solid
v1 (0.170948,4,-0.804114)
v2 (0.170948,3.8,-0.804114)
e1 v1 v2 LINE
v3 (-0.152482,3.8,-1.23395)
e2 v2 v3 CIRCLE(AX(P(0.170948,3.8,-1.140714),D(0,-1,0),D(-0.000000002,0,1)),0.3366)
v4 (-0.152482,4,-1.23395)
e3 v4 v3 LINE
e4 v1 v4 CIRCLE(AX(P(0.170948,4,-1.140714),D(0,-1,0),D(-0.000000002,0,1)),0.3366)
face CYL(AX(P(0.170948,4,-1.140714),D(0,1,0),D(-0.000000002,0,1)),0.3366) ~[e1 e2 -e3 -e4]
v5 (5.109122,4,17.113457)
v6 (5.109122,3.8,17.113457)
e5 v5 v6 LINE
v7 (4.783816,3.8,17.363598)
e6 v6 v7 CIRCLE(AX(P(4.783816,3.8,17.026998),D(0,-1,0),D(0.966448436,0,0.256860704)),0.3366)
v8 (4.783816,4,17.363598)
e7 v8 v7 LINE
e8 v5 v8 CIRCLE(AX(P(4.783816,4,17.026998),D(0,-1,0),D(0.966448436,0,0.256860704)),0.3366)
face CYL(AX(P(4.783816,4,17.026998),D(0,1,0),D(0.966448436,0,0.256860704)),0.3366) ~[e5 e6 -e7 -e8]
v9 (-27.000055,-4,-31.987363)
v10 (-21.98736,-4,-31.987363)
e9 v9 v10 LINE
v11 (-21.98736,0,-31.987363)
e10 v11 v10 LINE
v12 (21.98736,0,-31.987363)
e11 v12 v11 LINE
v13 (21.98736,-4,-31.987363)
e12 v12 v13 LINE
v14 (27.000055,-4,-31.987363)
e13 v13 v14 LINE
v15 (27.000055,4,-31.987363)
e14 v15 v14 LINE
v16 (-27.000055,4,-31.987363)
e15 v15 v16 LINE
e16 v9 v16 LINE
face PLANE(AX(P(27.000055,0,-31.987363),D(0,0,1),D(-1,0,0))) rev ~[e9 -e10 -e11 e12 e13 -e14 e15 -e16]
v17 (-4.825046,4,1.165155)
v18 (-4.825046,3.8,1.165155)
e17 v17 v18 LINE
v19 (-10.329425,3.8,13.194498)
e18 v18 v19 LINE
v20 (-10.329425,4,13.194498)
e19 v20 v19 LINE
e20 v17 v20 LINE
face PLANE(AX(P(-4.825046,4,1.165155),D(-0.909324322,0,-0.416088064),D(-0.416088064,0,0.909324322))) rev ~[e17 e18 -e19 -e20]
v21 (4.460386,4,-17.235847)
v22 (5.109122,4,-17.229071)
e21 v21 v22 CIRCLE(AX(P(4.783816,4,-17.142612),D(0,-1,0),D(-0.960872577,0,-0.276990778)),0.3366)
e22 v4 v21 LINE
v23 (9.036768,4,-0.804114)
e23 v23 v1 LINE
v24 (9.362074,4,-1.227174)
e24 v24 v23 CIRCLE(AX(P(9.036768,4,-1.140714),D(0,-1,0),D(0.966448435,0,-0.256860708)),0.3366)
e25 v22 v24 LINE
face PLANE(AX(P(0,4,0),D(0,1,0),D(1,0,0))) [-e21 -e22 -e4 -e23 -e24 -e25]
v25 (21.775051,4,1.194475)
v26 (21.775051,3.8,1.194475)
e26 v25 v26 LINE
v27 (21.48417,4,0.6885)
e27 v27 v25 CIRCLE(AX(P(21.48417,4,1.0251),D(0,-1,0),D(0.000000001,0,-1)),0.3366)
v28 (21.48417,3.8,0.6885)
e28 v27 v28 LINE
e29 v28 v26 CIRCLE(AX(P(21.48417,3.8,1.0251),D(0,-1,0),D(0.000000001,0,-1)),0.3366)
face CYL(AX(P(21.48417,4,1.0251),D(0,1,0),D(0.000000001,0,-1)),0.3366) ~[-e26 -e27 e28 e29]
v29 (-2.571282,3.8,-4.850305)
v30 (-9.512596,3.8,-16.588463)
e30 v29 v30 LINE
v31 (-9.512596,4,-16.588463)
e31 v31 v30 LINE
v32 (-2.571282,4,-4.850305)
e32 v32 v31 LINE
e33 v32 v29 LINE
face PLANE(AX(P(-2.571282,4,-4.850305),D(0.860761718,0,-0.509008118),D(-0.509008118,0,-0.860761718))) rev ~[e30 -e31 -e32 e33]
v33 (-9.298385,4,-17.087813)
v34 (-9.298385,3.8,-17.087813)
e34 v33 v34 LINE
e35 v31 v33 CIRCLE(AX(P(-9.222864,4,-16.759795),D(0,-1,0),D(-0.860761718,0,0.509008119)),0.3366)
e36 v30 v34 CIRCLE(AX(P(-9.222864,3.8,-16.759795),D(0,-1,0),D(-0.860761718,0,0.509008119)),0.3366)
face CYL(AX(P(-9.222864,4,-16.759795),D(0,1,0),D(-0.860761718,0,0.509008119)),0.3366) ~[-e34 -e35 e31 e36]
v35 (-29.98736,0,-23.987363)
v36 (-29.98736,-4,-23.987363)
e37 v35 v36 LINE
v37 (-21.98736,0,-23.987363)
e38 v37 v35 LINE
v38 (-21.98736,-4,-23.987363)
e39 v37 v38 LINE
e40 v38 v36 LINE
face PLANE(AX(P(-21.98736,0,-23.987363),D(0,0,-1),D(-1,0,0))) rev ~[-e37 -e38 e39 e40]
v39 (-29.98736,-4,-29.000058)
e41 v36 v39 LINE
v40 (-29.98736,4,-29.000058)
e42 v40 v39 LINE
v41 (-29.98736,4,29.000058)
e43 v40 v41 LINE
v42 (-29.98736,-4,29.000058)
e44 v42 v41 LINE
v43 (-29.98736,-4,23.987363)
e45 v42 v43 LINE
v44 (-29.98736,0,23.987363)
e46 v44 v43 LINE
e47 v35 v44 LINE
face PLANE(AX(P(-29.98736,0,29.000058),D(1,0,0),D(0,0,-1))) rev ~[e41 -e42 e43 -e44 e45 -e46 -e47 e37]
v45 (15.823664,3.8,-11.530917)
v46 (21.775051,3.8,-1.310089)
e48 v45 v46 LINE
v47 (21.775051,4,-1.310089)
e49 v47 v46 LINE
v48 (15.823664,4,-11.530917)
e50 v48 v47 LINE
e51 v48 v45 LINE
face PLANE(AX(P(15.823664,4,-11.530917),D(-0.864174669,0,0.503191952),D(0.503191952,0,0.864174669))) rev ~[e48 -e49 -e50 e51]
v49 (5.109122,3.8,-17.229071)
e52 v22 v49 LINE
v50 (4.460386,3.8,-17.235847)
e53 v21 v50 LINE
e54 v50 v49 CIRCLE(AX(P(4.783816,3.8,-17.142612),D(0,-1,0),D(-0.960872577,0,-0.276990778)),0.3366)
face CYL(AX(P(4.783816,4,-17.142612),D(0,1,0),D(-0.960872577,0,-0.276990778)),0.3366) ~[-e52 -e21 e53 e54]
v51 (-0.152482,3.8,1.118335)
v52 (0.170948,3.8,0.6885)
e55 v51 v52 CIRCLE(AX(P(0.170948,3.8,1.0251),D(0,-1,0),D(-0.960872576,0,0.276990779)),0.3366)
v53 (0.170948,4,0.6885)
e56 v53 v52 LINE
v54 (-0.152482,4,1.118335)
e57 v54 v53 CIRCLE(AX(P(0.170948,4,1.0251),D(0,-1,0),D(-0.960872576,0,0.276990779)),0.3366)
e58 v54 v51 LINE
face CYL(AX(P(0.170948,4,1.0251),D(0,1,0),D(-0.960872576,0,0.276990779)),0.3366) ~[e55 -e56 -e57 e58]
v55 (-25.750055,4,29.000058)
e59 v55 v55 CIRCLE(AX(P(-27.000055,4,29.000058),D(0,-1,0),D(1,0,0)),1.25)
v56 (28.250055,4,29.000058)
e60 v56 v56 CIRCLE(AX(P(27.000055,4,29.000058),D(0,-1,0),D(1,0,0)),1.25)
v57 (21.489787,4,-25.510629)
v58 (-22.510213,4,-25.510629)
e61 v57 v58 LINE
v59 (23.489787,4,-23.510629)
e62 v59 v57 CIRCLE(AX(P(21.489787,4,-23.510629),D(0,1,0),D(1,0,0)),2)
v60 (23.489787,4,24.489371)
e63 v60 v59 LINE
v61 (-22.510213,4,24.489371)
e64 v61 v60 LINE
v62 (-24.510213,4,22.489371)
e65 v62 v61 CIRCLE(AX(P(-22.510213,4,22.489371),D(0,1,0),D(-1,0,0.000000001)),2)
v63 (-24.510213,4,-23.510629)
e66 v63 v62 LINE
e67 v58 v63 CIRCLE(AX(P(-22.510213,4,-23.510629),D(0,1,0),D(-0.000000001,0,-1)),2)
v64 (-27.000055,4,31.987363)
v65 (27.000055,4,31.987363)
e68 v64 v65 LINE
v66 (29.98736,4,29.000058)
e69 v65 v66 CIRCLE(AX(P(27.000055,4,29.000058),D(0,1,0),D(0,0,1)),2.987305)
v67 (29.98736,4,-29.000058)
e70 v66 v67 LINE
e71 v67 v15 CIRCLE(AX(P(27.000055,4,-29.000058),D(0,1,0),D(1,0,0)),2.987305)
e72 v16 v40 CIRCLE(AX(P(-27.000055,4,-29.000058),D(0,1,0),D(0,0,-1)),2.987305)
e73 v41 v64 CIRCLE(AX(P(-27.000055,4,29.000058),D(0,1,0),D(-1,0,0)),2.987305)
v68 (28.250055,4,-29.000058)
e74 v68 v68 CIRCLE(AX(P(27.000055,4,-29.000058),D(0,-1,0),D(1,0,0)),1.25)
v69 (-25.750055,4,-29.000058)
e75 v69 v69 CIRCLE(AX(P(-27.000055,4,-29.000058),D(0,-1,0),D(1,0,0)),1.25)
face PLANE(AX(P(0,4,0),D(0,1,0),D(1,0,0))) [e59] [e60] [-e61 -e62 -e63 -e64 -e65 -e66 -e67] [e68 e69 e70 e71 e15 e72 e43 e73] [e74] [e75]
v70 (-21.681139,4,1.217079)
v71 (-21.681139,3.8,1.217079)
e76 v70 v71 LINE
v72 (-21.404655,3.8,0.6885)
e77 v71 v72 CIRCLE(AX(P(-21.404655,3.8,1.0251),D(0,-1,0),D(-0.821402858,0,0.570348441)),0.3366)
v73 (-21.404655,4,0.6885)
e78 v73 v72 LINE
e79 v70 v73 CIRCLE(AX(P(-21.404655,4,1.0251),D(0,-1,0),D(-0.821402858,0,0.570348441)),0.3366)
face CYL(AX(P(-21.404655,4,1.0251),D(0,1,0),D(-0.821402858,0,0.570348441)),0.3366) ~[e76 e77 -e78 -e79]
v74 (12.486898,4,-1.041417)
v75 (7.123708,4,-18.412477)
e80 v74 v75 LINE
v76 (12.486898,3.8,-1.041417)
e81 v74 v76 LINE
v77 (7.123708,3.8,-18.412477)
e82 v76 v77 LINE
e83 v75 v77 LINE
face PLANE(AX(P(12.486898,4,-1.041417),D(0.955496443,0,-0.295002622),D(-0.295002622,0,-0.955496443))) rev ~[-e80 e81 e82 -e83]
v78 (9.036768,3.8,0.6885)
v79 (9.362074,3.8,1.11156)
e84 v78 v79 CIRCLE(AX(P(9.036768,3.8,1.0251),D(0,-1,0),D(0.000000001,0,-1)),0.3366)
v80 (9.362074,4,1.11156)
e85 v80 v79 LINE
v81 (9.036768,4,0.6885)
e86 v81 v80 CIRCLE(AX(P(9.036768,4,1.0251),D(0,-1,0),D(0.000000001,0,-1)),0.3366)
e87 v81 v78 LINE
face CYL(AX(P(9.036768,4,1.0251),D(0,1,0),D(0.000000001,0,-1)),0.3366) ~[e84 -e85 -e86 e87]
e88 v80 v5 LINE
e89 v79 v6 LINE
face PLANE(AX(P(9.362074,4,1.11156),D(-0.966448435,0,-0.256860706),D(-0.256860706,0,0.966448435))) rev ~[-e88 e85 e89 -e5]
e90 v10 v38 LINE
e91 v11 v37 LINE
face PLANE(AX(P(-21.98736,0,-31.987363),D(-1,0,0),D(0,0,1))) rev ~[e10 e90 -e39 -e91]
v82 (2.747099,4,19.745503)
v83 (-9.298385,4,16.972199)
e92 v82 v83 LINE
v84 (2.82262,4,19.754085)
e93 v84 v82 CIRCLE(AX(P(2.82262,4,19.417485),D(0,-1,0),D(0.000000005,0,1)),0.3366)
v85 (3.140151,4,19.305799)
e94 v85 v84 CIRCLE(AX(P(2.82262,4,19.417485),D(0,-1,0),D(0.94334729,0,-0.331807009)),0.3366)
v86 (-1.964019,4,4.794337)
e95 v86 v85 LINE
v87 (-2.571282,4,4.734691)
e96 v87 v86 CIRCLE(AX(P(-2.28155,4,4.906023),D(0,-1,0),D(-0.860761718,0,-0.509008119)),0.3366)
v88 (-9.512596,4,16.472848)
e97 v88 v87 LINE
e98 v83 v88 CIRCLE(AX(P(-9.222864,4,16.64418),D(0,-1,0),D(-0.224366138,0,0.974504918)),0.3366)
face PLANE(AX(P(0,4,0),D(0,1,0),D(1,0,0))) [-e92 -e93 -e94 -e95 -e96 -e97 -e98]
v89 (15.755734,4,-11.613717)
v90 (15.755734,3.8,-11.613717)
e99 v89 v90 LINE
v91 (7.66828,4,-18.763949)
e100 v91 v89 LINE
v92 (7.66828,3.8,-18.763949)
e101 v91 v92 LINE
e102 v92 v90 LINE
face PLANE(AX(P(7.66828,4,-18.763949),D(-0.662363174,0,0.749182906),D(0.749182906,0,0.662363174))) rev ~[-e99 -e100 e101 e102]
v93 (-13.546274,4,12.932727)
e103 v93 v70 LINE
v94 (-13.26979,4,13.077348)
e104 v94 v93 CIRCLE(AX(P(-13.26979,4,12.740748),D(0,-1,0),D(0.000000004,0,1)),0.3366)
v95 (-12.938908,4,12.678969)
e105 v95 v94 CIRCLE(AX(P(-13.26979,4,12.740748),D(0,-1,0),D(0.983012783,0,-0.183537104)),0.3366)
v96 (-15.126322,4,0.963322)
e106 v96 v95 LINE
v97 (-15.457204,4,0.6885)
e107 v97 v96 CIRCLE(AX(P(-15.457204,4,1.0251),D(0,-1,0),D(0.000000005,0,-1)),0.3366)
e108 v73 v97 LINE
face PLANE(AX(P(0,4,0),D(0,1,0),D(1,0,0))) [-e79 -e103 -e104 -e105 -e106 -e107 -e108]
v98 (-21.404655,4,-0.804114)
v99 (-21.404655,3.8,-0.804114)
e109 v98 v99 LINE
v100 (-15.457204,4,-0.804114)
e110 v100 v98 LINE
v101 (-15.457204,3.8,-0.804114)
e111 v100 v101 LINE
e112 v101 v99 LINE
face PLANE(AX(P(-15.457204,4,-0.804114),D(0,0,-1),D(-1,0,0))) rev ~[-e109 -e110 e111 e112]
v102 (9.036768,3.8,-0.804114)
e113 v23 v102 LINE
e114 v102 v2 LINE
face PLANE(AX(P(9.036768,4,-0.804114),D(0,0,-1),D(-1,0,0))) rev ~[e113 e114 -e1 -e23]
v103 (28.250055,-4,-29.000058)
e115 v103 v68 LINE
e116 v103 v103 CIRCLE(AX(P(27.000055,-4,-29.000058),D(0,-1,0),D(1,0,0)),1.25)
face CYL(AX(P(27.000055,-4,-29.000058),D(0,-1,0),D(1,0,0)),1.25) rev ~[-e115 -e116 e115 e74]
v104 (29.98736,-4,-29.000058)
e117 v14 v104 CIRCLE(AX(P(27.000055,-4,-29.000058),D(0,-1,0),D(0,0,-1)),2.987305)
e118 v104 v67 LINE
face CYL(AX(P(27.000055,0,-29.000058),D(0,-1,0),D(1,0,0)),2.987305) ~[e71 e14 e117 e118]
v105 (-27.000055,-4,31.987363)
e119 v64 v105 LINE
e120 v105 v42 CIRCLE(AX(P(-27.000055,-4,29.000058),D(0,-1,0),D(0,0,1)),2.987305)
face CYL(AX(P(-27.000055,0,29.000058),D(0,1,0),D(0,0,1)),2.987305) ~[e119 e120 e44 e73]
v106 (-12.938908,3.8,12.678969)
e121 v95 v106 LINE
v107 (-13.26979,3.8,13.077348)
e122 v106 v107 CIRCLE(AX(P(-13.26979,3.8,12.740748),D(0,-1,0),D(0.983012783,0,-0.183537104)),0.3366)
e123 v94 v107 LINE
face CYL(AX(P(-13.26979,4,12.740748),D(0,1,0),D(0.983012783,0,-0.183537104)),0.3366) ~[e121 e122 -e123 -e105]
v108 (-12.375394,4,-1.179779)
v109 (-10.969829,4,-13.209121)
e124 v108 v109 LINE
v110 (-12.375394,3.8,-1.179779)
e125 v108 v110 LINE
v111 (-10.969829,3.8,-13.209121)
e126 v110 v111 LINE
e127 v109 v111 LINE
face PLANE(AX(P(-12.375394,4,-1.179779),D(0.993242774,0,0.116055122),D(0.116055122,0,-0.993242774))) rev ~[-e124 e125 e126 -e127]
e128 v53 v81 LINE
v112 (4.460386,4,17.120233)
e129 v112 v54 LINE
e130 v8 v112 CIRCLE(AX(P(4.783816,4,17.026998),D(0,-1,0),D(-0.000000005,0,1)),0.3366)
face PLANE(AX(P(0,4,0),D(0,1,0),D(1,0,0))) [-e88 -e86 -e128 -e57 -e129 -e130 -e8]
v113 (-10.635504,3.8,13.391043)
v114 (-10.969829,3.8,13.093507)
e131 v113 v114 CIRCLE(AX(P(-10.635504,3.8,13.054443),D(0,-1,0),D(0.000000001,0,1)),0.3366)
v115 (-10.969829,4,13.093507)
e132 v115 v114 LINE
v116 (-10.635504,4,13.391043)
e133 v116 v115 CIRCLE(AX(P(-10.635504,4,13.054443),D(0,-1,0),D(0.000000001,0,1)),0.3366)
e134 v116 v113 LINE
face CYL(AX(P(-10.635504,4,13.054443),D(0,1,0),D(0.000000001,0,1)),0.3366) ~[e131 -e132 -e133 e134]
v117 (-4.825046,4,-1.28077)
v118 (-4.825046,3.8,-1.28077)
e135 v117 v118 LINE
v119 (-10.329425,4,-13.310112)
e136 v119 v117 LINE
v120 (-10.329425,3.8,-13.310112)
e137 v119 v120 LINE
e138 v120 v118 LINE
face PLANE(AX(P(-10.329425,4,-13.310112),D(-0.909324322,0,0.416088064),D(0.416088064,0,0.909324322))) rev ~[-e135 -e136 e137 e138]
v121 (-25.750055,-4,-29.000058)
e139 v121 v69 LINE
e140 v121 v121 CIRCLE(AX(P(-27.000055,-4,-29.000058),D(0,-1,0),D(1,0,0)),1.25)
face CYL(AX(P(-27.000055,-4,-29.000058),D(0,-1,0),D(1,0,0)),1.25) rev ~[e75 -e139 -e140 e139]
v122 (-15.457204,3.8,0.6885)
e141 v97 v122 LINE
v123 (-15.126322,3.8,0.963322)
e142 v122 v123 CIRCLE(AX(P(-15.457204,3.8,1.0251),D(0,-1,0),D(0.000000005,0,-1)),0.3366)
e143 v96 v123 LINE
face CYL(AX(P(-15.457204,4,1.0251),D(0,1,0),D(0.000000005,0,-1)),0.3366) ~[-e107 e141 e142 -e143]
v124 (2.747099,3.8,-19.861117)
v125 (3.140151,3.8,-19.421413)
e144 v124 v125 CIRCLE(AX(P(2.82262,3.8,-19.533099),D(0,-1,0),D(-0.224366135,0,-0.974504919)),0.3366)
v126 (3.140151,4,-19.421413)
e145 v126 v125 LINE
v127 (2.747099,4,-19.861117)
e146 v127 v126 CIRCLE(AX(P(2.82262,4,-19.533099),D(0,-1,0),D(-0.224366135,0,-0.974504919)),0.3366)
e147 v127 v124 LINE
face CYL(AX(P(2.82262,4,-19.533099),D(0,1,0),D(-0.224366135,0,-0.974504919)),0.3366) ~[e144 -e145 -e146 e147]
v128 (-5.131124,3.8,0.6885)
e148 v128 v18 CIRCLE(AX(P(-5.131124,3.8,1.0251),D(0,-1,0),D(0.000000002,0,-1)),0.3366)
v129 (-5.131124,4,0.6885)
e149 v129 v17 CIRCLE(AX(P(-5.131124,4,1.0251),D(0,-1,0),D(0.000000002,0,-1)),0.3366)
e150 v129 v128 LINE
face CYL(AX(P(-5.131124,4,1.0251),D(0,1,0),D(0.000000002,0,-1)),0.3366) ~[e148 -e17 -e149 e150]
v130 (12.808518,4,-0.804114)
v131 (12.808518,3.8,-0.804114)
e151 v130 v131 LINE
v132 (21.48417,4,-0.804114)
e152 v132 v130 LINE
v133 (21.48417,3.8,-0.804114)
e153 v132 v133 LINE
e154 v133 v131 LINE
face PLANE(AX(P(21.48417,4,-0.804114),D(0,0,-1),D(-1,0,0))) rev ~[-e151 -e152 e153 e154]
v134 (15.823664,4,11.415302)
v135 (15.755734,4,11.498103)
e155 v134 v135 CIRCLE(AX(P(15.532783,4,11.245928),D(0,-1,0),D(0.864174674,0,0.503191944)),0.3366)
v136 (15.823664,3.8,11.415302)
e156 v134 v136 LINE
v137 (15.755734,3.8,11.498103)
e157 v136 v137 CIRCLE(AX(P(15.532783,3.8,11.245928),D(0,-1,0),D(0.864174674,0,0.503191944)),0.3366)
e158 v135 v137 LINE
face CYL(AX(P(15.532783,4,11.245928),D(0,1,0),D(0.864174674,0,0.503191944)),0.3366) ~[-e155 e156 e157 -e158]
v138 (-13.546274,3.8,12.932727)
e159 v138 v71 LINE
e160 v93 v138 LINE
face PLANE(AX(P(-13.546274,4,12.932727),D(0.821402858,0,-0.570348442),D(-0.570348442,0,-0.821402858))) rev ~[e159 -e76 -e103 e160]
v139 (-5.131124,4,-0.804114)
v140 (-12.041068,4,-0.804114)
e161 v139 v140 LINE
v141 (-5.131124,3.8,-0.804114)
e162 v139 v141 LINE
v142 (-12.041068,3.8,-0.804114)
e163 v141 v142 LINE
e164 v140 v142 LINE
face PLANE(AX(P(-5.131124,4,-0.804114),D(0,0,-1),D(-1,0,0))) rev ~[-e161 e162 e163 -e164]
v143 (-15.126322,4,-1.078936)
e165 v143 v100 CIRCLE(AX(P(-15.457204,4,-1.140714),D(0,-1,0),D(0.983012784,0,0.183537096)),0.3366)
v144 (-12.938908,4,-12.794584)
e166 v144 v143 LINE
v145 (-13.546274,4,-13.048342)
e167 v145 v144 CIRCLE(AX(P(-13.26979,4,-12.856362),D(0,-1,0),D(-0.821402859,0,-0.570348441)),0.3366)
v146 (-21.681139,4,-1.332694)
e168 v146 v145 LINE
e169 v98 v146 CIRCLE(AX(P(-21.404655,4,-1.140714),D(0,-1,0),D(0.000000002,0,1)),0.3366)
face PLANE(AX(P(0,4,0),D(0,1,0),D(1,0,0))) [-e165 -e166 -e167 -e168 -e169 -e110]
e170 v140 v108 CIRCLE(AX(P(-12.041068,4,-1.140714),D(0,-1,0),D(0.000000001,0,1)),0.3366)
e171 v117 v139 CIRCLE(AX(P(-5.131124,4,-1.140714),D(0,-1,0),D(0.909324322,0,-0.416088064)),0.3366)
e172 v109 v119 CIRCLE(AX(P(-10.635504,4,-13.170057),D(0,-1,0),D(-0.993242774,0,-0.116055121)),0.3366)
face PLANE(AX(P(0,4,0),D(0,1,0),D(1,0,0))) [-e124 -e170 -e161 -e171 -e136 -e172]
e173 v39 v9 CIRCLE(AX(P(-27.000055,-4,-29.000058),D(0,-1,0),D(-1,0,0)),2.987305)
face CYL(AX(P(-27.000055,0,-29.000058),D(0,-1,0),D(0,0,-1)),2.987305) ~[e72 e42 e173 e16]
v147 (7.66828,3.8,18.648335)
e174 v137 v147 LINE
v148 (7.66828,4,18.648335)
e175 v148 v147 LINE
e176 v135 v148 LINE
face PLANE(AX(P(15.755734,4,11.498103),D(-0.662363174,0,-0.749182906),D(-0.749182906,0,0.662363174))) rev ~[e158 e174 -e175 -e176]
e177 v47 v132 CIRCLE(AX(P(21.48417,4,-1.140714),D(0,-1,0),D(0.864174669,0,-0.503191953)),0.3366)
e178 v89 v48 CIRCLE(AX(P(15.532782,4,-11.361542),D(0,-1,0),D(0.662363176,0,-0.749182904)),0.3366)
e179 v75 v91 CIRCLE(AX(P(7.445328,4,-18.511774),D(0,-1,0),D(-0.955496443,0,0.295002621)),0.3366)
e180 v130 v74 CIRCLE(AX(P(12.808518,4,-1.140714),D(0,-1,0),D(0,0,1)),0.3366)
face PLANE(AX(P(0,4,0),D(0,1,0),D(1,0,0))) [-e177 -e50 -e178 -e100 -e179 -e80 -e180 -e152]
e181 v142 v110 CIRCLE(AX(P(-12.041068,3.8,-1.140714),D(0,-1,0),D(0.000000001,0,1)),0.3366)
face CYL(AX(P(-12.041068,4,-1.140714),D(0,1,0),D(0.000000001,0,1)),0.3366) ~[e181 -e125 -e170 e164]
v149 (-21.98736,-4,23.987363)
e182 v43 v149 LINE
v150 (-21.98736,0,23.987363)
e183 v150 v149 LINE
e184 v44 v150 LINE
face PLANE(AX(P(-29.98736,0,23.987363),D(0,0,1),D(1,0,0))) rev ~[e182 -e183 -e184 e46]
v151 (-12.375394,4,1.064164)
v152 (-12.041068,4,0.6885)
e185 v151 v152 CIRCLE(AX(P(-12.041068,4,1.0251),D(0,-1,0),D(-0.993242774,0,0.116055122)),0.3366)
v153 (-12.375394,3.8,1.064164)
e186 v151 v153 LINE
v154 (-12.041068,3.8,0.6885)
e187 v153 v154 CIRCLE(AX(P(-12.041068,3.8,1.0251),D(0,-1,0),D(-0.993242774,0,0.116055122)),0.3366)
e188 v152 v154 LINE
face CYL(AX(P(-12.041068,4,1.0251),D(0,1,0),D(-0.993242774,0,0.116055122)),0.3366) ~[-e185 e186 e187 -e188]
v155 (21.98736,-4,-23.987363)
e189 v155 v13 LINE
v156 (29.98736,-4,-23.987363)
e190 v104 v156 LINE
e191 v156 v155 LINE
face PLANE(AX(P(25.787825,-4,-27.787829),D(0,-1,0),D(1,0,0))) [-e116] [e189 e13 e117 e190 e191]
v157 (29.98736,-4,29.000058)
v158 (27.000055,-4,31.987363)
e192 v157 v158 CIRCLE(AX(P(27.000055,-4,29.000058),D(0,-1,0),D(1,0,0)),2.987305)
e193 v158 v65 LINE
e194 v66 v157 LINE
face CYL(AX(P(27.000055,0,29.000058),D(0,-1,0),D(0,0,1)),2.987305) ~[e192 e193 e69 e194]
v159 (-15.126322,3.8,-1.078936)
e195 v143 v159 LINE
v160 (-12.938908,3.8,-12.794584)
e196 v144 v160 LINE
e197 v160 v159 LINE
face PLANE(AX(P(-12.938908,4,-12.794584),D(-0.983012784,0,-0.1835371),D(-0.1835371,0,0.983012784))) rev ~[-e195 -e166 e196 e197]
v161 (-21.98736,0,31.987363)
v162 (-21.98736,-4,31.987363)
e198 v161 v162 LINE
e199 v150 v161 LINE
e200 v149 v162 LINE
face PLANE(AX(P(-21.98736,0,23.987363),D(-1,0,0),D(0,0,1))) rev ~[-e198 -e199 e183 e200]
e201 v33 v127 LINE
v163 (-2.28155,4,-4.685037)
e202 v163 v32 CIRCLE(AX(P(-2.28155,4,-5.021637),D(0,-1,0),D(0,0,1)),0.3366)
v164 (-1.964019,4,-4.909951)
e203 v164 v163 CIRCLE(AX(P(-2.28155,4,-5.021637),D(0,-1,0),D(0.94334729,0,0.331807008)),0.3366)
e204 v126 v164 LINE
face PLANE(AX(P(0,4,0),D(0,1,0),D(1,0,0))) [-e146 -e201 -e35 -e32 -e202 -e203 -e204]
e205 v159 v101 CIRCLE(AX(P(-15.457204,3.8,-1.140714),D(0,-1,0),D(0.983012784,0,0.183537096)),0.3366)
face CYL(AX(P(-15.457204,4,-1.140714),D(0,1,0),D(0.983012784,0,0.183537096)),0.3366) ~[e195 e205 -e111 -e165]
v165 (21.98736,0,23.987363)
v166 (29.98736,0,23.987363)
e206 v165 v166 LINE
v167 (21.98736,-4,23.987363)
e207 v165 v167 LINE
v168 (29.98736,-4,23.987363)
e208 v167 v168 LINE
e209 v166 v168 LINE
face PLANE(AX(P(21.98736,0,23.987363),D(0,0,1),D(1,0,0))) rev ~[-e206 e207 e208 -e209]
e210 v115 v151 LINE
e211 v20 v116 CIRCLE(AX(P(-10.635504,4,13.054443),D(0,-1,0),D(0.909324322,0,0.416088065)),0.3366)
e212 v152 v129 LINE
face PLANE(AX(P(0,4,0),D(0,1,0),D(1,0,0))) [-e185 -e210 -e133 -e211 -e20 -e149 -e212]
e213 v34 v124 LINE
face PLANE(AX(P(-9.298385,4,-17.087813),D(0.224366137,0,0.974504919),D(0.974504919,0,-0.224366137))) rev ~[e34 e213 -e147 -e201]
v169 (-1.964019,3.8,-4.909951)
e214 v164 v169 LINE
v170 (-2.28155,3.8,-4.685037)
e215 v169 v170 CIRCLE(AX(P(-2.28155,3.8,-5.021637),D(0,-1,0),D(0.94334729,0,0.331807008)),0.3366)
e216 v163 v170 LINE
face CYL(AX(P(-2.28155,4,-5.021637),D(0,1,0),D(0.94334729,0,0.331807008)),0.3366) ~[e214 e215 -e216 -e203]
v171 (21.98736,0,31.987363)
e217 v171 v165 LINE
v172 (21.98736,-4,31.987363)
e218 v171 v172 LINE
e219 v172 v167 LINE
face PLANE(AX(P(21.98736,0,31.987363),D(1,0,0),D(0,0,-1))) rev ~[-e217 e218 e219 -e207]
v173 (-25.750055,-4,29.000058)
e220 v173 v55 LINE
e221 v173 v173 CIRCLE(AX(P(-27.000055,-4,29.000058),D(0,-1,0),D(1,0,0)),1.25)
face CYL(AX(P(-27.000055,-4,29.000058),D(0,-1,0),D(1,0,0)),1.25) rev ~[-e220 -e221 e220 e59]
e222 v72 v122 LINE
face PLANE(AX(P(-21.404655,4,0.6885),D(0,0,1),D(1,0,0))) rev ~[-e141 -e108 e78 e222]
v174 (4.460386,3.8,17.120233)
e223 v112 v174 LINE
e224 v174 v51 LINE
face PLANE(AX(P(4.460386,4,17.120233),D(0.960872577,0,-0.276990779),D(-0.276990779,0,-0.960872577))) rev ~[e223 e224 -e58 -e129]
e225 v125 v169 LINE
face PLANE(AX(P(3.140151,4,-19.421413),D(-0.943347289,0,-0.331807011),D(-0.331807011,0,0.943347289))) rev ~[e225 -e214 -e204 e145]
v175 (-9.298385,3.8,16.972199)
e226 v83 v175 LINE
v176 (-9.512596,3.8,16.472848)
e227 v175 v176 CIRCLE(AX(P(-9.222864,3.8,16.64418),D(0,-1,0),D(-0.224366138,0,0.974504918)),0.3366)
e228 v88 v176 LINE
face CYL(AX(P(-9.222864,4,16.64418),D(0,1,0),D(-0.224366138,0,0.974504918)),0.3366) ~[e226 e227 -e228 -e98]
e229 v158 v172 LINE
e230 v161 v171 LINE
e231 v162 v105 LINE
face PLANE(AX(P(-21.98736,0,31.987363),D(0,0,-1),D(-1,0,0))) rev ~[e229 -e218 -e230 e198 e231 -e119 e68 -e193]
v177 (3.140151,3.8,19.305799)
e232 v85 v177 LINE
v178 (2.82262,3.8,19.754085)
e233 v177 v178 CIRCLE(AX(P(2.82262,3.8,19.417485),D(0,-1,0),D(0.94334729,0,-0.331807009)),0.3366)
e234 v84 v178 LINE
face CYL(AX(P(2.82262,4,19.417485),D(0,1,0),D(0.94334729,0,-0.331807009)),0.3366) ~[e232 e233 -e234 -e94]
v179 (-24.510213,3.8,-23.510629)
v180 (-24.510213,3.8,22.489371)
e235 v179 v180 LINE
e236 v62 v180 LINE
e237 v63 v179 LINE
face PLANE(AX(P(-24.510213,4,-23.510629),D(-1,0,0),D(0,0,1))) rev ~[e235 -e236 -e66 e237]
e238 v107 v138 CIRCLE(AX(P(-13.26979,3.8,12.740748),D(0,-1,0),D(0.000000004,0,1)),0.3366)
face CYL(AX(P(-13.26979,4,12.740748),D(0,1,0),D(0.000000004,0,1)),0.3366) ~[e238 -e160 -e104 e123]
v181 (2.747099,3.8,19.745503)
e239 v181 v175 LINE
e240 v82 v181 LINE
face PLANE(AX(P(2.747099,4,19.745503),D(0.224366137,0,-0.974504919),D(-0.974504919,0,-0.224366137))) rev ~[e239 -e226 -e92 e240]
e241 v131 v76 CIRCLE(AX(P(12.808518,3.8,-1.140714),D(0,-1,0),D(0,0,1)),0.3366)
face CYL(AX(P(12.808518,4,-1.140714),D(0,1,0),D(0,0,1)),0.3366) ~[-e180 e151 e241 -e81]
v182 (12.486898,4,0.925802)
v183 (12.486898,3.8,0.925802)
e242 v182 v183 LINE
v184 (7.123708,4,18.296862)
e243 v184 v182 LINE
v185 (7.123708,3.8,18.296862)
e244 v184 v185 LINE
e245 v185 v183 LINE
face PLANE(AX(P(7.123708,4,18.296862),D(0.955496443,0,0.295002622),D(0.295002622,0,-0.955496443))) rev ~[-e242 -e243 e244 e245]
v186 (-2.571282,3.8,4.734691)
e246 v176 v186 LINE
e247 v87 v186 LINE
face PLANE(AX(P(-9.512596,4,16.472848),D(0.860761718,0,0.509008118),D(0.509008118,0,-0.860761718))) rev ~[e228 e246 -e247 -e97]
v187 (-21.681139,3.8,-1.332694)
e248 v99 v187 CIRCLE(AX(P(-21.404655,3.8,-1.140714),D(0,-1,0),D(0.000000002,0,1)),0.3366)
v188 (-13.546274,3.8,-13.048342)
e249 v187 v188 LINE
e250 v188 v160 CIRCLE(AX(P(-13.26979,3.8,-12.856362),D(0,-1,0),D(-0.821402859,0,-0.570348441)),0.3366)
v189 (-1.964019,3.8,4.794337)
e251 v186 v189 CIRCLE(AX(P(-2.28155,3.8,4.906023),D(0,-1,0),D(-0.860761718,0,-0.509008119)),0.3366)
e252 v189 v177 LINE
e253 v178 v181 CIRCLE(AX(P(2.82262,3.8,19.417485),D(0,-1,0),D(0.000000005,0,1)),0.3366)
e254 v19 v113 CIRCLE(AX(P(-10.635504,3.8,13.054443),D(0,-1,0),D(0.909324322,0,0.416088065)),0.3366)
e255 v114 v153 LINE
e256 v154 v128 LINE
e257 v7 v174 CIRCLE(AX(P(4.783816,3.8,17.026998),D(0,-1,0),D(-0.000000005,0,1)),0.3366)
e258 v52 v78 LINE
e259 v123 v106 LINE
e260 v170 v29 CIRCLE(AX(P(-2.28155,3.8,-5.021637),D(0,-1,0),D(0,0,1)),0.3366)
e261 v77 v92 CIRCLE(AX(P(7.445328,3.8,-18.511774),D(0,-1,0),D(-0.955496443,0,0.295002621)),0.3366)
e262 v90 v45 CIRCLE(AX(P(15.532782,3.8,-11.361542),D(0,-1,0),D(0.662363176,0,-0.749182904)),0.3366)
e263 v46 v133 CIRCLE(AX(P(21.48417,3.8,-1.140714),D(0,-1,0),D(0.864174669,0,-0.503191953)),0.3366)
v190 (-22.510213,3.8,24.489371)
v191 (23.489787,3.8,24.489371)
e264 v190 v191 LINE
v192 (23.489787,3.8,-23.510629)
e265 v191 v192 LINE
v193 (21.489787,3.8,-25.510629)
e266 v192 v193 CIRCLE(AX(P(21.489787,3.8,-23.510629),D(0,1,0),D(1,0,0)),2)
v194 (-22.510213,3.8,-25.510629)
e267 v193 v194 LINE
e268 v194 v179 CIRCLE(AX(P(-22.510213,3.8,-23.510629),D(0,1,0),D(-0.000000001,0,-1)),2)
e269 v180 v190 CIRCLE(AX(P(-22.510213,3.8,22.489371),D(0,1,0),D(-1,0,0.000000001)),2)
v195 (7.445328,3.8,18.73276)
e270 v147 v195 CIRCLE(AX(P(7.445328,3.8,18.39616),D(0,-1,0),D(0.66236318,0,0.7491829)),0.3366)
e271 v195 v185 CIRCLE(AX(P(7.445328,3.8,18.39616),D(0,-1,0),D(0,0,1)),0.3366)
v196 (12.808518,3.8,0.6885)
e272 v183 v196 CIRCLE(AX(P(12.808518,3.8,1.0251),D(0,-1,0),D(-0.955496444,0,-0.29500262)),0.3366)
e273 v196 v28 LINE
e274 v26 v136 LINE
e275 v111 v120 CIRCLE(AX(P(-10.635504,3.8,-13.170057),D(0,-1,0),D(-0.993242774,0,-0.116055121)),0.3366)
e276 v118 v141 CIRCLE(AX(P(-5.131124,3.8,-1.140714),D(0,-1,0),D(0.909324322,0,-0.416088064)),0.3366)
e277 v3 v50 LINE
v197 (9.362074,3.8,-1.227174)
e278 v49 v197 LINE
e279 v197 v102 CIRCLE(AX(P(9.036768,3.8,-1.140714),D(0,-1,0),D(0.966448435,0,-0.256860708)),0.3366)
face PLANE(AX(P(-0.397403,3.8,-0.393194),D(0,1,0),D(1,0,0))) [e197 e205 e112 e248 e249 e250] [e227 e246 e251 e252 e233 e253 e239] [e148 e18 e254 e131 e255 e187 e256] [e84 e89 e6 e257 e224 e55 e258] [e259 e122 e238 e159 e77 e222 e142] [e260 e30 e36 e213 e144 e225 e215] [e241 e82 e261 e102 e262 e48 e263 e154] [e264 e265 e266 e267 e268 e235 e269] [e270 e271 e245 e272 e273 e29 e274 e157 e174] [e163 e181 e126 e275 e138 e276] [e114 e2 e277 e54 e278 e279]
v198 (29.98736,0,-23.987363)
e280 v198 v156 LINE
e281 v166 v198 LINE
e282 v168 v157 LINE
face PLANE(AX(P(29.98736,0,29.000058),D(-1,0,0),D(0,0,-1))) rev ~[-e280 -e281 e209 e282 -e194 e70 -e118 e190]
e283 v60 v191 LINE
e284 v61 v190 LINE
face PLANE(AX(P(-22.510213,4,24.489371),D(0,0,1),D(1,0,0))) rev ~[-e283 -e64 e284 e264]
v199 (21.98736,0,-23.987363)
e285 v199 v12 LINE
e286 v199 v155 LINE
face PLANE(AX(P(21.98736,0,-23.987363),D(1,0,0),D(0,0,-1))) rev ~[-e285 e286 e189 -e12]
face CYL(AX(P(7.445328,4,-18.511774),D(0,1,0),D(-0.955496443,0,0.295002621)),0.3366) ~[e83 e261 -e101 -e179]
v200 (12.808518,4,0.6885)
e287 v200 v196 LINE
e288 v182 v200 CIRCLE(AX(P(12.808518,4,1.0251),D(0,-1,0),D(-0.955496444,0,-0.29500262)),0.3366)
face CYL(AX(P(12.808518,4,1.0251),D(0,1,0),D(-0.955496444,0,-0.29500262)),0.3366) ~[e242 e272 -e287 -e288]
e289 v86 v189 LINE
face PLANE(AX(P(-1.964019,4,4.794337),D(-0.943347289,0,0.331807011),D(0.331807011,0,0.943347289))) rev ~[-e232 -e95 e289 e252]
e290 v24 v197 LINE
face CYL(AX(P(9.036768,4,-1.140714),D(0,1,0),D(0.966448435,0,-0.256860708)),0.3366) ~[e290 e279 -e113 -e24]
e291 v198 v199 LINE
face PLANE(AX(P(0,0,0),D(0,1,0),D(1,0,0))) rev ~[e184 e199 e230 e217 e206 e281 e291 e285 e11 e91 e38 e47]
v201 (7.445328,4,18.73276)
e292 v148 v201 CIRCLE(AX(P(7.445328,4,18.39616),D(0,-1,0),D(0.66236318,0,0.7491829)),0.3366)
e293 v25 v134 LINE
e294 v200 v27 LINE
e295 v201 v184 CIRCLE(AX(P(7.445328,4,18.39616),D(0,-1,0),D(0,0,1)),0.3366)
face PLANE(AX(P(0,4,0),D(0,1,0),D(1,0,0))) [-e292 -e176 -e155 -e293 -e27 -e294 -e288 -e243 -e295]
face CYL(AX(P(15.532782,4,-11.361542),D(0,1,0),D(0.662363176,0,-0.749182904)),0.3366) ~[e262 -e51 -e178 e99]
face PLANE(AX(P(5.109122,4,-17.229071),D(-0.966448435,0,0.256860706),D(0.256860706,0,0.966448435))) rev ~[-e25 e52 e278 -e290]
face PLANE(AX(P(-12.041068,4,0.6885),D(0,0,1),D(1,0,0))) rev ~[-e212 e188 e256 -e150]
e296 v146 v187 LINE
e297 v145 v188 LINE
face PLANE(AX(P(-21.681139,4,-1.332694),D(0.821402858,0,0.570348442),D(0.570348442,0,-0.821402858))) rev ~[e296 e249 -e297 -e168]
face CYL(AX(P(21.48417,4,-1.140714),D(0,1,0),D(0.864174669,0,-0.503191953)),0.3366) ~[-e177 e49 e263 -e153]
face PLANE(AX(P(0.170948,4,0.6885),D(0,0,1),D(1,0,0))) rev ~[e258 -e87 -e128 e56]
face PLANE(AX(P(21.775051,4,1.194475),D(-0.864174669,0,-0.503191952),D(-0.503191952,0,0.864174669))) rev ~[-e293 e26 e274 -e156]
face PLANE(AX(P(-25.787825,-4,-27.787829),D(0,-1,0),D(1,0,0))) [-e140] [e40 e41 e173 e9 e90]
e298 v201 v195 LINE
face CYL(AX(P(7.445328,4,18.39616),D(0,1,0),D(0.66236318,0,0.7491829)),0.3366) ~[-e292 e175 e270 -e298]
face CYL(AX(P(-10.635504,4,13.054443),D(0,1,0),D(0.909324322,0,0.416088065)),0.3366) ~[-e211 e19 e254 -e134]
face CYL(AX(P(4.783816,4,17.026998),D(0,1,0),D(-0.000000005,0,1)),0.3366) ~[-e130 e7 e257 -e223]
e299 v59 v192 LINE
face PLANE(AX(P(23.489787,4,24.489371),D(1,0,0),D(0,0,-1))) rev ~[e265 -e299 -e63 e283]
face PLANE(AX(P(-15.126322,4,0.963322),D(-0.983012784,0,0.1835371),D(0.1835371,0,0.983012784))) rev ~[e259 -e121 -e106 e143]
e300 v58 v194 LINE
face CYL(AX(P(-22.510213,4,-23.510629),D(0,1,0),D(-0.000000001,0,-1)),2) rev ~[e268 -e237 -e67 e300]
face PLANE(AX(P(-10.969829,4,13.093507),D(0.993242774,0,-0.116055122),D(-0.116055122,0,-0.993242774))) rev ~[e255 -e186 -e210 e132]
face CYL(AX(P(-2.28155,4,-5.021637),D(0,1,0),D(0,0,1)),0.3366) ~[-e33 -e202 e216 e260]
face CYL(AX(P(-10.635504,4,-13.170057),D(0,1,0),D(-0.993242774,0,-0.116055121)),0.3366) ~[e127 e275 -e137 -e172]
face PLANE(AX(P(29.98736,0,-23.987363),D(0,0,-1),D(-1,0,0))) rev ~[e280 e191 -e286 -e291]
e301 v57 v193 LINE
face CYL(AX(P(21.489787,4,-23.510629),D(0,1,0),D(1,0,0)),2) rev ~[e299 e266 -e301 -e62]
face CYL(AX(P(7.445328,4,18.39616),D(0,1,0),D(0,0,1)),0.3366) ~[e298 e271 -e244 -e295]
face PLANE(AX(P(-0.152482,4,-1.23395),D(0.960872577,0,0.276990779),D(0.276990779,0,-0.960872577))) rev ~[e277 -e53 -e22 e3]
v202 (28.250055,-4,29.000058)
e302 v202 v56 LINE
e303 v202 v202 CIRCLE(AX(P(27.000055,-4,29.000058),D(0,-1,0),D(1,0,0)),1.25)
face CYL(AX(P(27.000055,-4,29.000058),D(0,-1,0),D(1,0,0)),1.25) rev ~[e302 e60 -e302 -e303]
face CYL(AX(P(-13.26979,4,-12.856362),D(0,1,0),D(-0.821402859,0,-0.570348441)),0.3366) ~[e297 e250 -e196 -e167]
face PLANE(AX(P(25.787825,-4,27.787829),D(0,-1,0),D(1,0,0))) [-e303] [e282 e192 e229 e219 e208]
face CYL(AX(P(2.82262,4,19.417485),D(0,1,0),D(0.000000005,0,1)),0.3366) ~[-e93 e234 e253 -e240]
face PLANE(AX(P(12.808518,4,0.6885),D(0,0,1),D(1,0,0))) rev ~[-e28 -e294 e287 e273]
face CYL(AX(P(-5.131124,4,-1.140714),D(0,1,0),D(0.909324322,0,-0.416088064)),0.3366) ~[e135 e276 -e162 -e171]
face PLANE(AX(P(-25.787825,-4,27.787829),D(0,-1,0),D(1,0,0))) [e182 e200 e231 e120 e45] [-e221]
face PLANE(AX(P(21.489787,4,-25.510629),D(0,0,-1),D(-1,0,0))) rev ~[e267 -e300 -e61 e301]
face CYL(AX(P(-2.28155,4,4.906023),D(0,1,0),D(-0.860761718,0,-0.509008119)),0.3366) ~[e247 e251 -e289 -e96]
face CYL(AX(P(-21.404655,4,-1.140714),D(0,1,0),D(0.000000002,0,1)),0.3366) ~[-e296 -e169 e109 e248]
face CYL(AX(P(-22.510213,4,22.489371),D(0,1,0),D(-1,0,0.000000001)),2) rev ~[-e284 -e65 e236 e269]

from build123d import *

# Parameters (mm, degrees)
EXTRUDE_1_DEPTH     = 4
EXTRUDE_2_DEPTH     = 4
SKETCH_3_R          = 1.25
CUT_EXTRUDE_1_DEPTH = 15
CUT_EXTRUDE_2_DEPTH = 0.2


with BuildPart() as part:
    # 草图1 → 凸台-拉伸1 (new body)
    with BuildSketch(Plane(origin=(0, 0, 0), x_dir=(1, 0, 0), z_dir=(0, 1, 0))):
        with BuildLine():
            Line((-27.00005461, -31.987363475), (27.00005461, -31.987363475))
            ThreePointArc((27.00005461, -31.987363475), (29.112398272, -31.112402082), (29.987359665, -29.00005842))
            Line((29.987359665, -29.00005842), (29.987359665, 29.00005842))
            ThreePointArc((29.987359665, 29.00005842), (29.112398272, 31.112402082), (27.00005461, 31.987363475))
            Line((27.00005461, 31.987363475), (-27.00005461, 31.987363475))
            ThreePointArc((-27.00005461, 31.987363475), (-29.112398272, 31.112402082), (-29.987359665, 29.00005842))
            Line((-29.987359665, 29.00005842), (-29.987359665, -29.00005842))
            ThreePointArc((-29.987359665, -29.00005842), (-29.112398272, -31.112402082), (-27.00005461, -31.987363475))
        make_face()
    extrude(amount=EXTRUDE_1_DEPTH)

    # 草图2 → 凸台-拉伸2 (add)
    with BuildSketch(Plane.XZ):
        with BuildLine():
            Line((-21.987359665, 23.987363475), (-21.987359665, 31.987363475))
            Line((-21.987359665, 31.987363475), (-27.00005461, 31.987363475))
            ThreePointArc((-27.00005461, 31.987363475), (-29.112398272, 31.112402082), (-29.987359665, 29.00005842))
            Line((-29.987359665, 29.00005842), (-29.987359665, 23.987363475))
            Line((-29.987359665, 23.987363475), (-21.987359665, 23.987363475))
        make_face()
        with BuildLine():
            Line((21.987359665, -23.987363475), (21.987359665, -31.987363475))
            Line((21.987359665, -31.987363475), (27.00005461, -31.987363475))
            ThreePointArc((27.00005461, -31.987363475), (29.112398272, -31.112402082), (29.987359665, -29.00005842))
            Line((29.987359665, -29.00005842), (29.987359665, -23.987363475))
            Line((29.987359665, -23.987363475), (21.987359665, -23.987363475))
        make_face()
        with BuildLine():
            Line((21.987359665, 23.987363475), (29.987359665, 23.987363475))
            Line((29.987359665, 23.987363475), (29.987359665, 29.00005842))
            ThreePointArc((29.987359665, 29.00005842), (29.112398272, 31.112402082), (27.00005461, 31.987363475))
            Line((27.00005461, 31.987363475), (21.987359665, 31.987363475))
            Line((21.987359665, 31.987363475), (21.987359665, 23.987363475))
        make_face()
        with BuildLine():
            Line((-29.987359665, -23.987363475), (-29.987359665, -29.00005842))
            ThreePointArc((-29.987359665, -29.00005842), (-29.112398272, -31.112402082), (-27.00005461, -31.987363475))
            Line((-27.00005461, -31.987363475), (-21.987359665, -31.987363475))
            Line((-21.987359665, -31.987363475), (-21.987359665, -23.987363475))
            Line((-21.987359665, -23.987363475), (-29.987359665, -23.987363475))
        make_face()
    extrude(amount=EXTRUDE_2_DEPTH)

    # 草图3 → 切除-拉伸1 (cut)
    with BuildSketch(Plane.XZ.offset(4)):
        with Locations((-27.00005461, 29.00005842)):
            Circle(SKETCH_3_R)
        with Locations((27.00005461, 29.00005842)):
            Circle(SKETCH_3_R)
        with Locations((27.00005461, -29.00005842)):
            Circle(SKETCH_3_R)
        with Locations((-27.00005461, -29.00005842)):
            Circle(SKETCH_3_R)
    extrude(amount=-CUT_EXTRUDE_1_DEPTH, mode=Mode.SUBTRACT)

    # 草图5 → 切除-拉伸2 (cut)
    with BuildSketch(Plane(origin=(0, 4, 0), x_dir=(1, 0, 0), z_dir=(0, 1, 0))):
        with BuildLine():
            ThreePointArc((-24.510212589, -22.489370571), (-23.924426151, -23.903584133), (-22.510212589, -24.489370571))
            Line((-22.510212589, -24.489370571), (23.489787411, -24.489370571))
            Line((23.489787411, -24.489370571), (23.489787411, 23.510629429))
            ThreePointArc((23.489787411, 23.510629429), (22.904000974, 24.924842991), (21.489787411, 25.510629429))
            Line((21.489787411, 25.510629429), (-22.510212589, 25.510629429))
            ThreePointArc((-22.510212589, 25.510629429), (-23.924426151, 24.924842991), (-24.510212589, 23.510629429))
            Line((-24.510212589, 23.510629429), (-24.510212589, -22.489370571))
        make_face()
        with BuildLine():
            Line((-21.404655137, -0.688500192), (-15.457204068, -0.688500192))
            ThreePointArc((-15.457204068, -0.688500192), (-15.242140256, -0.766165613), (-15.126321966, -0.963321604))
            Line((-15.126321966, -0.963321604), (-12.93890785, -12.678969469))
            ThreePointArc((-12.93890785, -12.678969469), (-13.010855373, -12.95581187), (-13.269789952, -13.077348057))
            ThreePointArc((-13.269789952, -13.077348057), (-13.425801703, -13.039009509), (-13.546274154, -12.932727342))
            Line((-13.546274154, -12.932727342), (-21.681139339, -1.217079478))
            ThreePointArc((-21.681139339, -1.217079478), (-21.702916589, -0.869088442), (-21.404655137, -0.688500192))
        make_face(mode=Mode.SUBTRACT)
        with BuildLine():
            Line((-9.512596077, -16.472848359), (-2.571281975, -4.734690874))
            ThreePointArc((-2.571281975, -4.734690874), (-2.248646777, -4.571034999), (-1.964018884, -4.794336767))
            Line((-1.964018884, -4.794336767), (3.140150939, -19.305798562))
            ThreePointArc((3.140150939, -19.305798562), (3.097295639, -19.61204324), (2.822620241, -19.754084802))
            ThreePointArc((2.822620241, -19.754084802), (2.784616416, -19.75193251), (2.7470986, -19.745503158))
            Line((2.7470986, -19.745503158), (-9.298385325, -16.972198847))
            ThreePointArc((-9.298385325, -16.972198847), (-9.53220226, -16.77688017), (-9.512596077, -16.472848359))
        make_face(mode=Mode.SUBTRACT)
        with BuildLine():
            Line((-12.041068111, -0.688500192), (-5.131124443, -0.688500192))
            ThreePointArc((-5.131124443, -0.688500192), (-4.847891187, -0.843225283), (-4.825045876, -1.165155435))
            Line((-4.825045876, -1.165155435), (-10.329425017, -13.194497943))
            ThreePointArc((-10.329425017, -13.194497943), (-10.453628675, -13.337675957), (-10.635503584, -13.391042701))
            ThreePointArc((-10.635503584, -13.391042701), (-10.859278656, -13.305887083), (-10.969829102, -13.093506855))
            Line((-10.969829102, -13.093506855), (-12.375393629, -1.064164346))
            ThreePointArc((-12.375393629, -1.064164346), (-12.292512493, -0.80132512), (-12.041068111, -0.688500192))
        make_face(mode=Mode.SUBTRACT)
        with BuildLine():
            Line((9.36207412, -1.111559506), (5.109122277, -17.113456876))
            ThreePointArc((5.109122277, -17.113456876), (4.988995356, -17.293832498), (4.783815734, -17.363597563))
            ThreePointArc((4.783815734, -17.363597563), (4.581434131, -17.295960844), (4.460386024, -17.120232659))
            Line((4.460386024, -17.120232659), (-0.152481619, -1.118335289))
            ThreePointArc((-0.152481619, -1.118335289), (-0.098015191, -0.822718589), (0.17094809, -0.688500192))
            Line((0.17094809, -0.688500192), (9.036767577, -0.688500192))
            ThreePointArc((9.036767577, -0.688500192), (9.303602512, -0.81992057), (9.36207412, -1.111559506))
        make_face(mode=Mode.SUBTRACT)
        with BuildLine():
            Line((12.808517611, -0.688500192), (21.484169915, -0.688500192))
            ThreePointArc((21.484169915, -0.688500192), (21.775984057, -0.857338258), (21.775051109, -1.194474604))
            Line((21.775051109, -1.194474604), (15.823663685, -11.415302329))
            ThreePointArc((15.823663685, -11.415302329), (15.793013116, -11.45942167), (15.755733936, -11.498102884))
            Line((15.755733936, -11.498102884), (7.668279808, -18.648335147))
            ThreePointArc((7.668279808, -18.648335147), (7.564528755, -18.710947136), (7.445328364, -18.732760181))
            ThreePointArc((7.445328364, -18.732760181), (7.174474873, -18.596004987), (7.123708261, -18.296862298))
            Line((7.123708261, -18.296862298), (12.486897508, -0.92580231))
            ThreePointArc((12.486897508, -0.92580231), (12.608672805, -0.754246701), (12.808517611, -0.688500192))
        make_face(mode=Mode.SUBTRACT)
        with BuildLine():
            Line((-21.681139339, 1.332693738), (-13.546274154, 13.048341603))
            ThreePointArc((-13.546274154, 13.048341603), (-13.14002845, 13.166944855), (-12.93890785, 12.794583729))
            Line((-12.93890785, 12.794583729), (-15.126321966, 1.078935865))
            ThreePointArc((-15.126321966, 1.078935865), (-15.242140256, 0.881779873), (-15.457204068, 0.804114453))
            Line((-15.457204068, 0.804114453), (-21.404655137, 0.804114453))
            ThreePointArc((-21.404655137, 0.804114453), (-21.702916589, 0.984702702), (-21.681139339, 1.332693738))
        make_face(mode=Mode.SUBTRACT)
        with BuildLine():
            Line((-12.375393629, 1.179778607), (-10.969829102, 13.209121115))
            ThreePointArc((-10.969829102, 13.209121115), (-10.68793709, 13.502547995), (-10.329425017, 13.310112203))
            Line((-10.329425017, 13.310112203), (-4.825045876, 1.280769695))
            ThreePointArc((-4.825045876, 1.280769695), (-4.847891187, 0.958839543), (-5.131124443, 0.804114453))
            Line((-5.131124443, 0.804114453), (-12.041068111, 0.804114453))
            ThreePointArc((-12.041068111, 0.804114453), (-12.292512493, 0.916939381), (-12.375393629, 1.179778607))
        make_face(mode=Mode.SUBTRACT)
        with BuildLine():
            Line((-2.571281975, 4.850305134), (-9.512596077, 16.588462619))
            ThreePointArc((-9.512596077, 16.588462619), (-9.53220226, 16.89249443), (-9.298385325, 17.087813107))
            Line((-9.298385325, 17.087813107), (2.7470986, 19.861117418))
            ThreePointArc((2.7470986, 19.861117418), (3.073572684, 19.75742568), (3.140150939, 19.421412823))
            Line((3.140150939, 19.421412823), (-1.964018884, 4.909951027))
            ThreePointArc((-1.964018884, 4.909951027), (-2.086991143, 4.746961869), (-2.281549581, 4.685037267))
            ThreePointArc((-2.281549581, 4.685037267), (-2.448326624, 4.729259125), (-2.571281975, 4.850305134))
        make_face(mode=Mode.SUBTRACT)
        with BuildLine():
            Line((9.036767577, 0.804114453), (0.17094809, 0.804114453))
            ThreePointArc((0.17094809, 0.804114453), (-0.098015191, 0.93833285), (-0.152481619, 1.233949549))
            Line((-0.152481619, 1.233949549), (4.460386024, 17.235846919))
            ThreePointArc((4.460386024, 17.235846919), (4.78733119, 17.479193465), (5.109122277, 17.229071137))
            Line((5.109122277, 17.229071137), (9.36207412, 1.227173766))
            ThreePointArc((9.36207412, 1.227173766), (9.303602512, 0.93553483), (9.036767577, 0.804114453))
        make_face(mode=Mode.SUBTRACT)
        with BuildLine():
            Line((21.484169915, 0.804114453), (12.808517611, 0.804114453))
            ThreePointArc((12.808517611, 0.804114453), (12.608672805, 0.869860962), (12.486897508, 1.04141657))
            Line((12.486897508, 1.04141657), (7.123708261, 18.412476559))
            ThreePointArc((7.123708261, 18.412476559), (7.262798457, 18.794586027), (7.668279808, 18.763949407))
            Line((7.668279808, 18.763949407), (15.755733936, 11.613717144))
            ThreePointArc((15.755733936, 11.613717144), (15.793013116, 11.57503593), (15.823663685, 11.53091659))
            Line((15.823663685, 11.53091659), (21.775051109, 1.310088864))
            ThreePointArc((21.775051109, 1.310088864), (21.775984057, 0.972952518), (21.484169915, 0.804114453))
        make_face(mode=Mode.SUBTRACT)
    extrude(amount=-CUT_EXTRUDE_2_DEPTH, mode=Mode.SUBTRACT)


solid = part.part
